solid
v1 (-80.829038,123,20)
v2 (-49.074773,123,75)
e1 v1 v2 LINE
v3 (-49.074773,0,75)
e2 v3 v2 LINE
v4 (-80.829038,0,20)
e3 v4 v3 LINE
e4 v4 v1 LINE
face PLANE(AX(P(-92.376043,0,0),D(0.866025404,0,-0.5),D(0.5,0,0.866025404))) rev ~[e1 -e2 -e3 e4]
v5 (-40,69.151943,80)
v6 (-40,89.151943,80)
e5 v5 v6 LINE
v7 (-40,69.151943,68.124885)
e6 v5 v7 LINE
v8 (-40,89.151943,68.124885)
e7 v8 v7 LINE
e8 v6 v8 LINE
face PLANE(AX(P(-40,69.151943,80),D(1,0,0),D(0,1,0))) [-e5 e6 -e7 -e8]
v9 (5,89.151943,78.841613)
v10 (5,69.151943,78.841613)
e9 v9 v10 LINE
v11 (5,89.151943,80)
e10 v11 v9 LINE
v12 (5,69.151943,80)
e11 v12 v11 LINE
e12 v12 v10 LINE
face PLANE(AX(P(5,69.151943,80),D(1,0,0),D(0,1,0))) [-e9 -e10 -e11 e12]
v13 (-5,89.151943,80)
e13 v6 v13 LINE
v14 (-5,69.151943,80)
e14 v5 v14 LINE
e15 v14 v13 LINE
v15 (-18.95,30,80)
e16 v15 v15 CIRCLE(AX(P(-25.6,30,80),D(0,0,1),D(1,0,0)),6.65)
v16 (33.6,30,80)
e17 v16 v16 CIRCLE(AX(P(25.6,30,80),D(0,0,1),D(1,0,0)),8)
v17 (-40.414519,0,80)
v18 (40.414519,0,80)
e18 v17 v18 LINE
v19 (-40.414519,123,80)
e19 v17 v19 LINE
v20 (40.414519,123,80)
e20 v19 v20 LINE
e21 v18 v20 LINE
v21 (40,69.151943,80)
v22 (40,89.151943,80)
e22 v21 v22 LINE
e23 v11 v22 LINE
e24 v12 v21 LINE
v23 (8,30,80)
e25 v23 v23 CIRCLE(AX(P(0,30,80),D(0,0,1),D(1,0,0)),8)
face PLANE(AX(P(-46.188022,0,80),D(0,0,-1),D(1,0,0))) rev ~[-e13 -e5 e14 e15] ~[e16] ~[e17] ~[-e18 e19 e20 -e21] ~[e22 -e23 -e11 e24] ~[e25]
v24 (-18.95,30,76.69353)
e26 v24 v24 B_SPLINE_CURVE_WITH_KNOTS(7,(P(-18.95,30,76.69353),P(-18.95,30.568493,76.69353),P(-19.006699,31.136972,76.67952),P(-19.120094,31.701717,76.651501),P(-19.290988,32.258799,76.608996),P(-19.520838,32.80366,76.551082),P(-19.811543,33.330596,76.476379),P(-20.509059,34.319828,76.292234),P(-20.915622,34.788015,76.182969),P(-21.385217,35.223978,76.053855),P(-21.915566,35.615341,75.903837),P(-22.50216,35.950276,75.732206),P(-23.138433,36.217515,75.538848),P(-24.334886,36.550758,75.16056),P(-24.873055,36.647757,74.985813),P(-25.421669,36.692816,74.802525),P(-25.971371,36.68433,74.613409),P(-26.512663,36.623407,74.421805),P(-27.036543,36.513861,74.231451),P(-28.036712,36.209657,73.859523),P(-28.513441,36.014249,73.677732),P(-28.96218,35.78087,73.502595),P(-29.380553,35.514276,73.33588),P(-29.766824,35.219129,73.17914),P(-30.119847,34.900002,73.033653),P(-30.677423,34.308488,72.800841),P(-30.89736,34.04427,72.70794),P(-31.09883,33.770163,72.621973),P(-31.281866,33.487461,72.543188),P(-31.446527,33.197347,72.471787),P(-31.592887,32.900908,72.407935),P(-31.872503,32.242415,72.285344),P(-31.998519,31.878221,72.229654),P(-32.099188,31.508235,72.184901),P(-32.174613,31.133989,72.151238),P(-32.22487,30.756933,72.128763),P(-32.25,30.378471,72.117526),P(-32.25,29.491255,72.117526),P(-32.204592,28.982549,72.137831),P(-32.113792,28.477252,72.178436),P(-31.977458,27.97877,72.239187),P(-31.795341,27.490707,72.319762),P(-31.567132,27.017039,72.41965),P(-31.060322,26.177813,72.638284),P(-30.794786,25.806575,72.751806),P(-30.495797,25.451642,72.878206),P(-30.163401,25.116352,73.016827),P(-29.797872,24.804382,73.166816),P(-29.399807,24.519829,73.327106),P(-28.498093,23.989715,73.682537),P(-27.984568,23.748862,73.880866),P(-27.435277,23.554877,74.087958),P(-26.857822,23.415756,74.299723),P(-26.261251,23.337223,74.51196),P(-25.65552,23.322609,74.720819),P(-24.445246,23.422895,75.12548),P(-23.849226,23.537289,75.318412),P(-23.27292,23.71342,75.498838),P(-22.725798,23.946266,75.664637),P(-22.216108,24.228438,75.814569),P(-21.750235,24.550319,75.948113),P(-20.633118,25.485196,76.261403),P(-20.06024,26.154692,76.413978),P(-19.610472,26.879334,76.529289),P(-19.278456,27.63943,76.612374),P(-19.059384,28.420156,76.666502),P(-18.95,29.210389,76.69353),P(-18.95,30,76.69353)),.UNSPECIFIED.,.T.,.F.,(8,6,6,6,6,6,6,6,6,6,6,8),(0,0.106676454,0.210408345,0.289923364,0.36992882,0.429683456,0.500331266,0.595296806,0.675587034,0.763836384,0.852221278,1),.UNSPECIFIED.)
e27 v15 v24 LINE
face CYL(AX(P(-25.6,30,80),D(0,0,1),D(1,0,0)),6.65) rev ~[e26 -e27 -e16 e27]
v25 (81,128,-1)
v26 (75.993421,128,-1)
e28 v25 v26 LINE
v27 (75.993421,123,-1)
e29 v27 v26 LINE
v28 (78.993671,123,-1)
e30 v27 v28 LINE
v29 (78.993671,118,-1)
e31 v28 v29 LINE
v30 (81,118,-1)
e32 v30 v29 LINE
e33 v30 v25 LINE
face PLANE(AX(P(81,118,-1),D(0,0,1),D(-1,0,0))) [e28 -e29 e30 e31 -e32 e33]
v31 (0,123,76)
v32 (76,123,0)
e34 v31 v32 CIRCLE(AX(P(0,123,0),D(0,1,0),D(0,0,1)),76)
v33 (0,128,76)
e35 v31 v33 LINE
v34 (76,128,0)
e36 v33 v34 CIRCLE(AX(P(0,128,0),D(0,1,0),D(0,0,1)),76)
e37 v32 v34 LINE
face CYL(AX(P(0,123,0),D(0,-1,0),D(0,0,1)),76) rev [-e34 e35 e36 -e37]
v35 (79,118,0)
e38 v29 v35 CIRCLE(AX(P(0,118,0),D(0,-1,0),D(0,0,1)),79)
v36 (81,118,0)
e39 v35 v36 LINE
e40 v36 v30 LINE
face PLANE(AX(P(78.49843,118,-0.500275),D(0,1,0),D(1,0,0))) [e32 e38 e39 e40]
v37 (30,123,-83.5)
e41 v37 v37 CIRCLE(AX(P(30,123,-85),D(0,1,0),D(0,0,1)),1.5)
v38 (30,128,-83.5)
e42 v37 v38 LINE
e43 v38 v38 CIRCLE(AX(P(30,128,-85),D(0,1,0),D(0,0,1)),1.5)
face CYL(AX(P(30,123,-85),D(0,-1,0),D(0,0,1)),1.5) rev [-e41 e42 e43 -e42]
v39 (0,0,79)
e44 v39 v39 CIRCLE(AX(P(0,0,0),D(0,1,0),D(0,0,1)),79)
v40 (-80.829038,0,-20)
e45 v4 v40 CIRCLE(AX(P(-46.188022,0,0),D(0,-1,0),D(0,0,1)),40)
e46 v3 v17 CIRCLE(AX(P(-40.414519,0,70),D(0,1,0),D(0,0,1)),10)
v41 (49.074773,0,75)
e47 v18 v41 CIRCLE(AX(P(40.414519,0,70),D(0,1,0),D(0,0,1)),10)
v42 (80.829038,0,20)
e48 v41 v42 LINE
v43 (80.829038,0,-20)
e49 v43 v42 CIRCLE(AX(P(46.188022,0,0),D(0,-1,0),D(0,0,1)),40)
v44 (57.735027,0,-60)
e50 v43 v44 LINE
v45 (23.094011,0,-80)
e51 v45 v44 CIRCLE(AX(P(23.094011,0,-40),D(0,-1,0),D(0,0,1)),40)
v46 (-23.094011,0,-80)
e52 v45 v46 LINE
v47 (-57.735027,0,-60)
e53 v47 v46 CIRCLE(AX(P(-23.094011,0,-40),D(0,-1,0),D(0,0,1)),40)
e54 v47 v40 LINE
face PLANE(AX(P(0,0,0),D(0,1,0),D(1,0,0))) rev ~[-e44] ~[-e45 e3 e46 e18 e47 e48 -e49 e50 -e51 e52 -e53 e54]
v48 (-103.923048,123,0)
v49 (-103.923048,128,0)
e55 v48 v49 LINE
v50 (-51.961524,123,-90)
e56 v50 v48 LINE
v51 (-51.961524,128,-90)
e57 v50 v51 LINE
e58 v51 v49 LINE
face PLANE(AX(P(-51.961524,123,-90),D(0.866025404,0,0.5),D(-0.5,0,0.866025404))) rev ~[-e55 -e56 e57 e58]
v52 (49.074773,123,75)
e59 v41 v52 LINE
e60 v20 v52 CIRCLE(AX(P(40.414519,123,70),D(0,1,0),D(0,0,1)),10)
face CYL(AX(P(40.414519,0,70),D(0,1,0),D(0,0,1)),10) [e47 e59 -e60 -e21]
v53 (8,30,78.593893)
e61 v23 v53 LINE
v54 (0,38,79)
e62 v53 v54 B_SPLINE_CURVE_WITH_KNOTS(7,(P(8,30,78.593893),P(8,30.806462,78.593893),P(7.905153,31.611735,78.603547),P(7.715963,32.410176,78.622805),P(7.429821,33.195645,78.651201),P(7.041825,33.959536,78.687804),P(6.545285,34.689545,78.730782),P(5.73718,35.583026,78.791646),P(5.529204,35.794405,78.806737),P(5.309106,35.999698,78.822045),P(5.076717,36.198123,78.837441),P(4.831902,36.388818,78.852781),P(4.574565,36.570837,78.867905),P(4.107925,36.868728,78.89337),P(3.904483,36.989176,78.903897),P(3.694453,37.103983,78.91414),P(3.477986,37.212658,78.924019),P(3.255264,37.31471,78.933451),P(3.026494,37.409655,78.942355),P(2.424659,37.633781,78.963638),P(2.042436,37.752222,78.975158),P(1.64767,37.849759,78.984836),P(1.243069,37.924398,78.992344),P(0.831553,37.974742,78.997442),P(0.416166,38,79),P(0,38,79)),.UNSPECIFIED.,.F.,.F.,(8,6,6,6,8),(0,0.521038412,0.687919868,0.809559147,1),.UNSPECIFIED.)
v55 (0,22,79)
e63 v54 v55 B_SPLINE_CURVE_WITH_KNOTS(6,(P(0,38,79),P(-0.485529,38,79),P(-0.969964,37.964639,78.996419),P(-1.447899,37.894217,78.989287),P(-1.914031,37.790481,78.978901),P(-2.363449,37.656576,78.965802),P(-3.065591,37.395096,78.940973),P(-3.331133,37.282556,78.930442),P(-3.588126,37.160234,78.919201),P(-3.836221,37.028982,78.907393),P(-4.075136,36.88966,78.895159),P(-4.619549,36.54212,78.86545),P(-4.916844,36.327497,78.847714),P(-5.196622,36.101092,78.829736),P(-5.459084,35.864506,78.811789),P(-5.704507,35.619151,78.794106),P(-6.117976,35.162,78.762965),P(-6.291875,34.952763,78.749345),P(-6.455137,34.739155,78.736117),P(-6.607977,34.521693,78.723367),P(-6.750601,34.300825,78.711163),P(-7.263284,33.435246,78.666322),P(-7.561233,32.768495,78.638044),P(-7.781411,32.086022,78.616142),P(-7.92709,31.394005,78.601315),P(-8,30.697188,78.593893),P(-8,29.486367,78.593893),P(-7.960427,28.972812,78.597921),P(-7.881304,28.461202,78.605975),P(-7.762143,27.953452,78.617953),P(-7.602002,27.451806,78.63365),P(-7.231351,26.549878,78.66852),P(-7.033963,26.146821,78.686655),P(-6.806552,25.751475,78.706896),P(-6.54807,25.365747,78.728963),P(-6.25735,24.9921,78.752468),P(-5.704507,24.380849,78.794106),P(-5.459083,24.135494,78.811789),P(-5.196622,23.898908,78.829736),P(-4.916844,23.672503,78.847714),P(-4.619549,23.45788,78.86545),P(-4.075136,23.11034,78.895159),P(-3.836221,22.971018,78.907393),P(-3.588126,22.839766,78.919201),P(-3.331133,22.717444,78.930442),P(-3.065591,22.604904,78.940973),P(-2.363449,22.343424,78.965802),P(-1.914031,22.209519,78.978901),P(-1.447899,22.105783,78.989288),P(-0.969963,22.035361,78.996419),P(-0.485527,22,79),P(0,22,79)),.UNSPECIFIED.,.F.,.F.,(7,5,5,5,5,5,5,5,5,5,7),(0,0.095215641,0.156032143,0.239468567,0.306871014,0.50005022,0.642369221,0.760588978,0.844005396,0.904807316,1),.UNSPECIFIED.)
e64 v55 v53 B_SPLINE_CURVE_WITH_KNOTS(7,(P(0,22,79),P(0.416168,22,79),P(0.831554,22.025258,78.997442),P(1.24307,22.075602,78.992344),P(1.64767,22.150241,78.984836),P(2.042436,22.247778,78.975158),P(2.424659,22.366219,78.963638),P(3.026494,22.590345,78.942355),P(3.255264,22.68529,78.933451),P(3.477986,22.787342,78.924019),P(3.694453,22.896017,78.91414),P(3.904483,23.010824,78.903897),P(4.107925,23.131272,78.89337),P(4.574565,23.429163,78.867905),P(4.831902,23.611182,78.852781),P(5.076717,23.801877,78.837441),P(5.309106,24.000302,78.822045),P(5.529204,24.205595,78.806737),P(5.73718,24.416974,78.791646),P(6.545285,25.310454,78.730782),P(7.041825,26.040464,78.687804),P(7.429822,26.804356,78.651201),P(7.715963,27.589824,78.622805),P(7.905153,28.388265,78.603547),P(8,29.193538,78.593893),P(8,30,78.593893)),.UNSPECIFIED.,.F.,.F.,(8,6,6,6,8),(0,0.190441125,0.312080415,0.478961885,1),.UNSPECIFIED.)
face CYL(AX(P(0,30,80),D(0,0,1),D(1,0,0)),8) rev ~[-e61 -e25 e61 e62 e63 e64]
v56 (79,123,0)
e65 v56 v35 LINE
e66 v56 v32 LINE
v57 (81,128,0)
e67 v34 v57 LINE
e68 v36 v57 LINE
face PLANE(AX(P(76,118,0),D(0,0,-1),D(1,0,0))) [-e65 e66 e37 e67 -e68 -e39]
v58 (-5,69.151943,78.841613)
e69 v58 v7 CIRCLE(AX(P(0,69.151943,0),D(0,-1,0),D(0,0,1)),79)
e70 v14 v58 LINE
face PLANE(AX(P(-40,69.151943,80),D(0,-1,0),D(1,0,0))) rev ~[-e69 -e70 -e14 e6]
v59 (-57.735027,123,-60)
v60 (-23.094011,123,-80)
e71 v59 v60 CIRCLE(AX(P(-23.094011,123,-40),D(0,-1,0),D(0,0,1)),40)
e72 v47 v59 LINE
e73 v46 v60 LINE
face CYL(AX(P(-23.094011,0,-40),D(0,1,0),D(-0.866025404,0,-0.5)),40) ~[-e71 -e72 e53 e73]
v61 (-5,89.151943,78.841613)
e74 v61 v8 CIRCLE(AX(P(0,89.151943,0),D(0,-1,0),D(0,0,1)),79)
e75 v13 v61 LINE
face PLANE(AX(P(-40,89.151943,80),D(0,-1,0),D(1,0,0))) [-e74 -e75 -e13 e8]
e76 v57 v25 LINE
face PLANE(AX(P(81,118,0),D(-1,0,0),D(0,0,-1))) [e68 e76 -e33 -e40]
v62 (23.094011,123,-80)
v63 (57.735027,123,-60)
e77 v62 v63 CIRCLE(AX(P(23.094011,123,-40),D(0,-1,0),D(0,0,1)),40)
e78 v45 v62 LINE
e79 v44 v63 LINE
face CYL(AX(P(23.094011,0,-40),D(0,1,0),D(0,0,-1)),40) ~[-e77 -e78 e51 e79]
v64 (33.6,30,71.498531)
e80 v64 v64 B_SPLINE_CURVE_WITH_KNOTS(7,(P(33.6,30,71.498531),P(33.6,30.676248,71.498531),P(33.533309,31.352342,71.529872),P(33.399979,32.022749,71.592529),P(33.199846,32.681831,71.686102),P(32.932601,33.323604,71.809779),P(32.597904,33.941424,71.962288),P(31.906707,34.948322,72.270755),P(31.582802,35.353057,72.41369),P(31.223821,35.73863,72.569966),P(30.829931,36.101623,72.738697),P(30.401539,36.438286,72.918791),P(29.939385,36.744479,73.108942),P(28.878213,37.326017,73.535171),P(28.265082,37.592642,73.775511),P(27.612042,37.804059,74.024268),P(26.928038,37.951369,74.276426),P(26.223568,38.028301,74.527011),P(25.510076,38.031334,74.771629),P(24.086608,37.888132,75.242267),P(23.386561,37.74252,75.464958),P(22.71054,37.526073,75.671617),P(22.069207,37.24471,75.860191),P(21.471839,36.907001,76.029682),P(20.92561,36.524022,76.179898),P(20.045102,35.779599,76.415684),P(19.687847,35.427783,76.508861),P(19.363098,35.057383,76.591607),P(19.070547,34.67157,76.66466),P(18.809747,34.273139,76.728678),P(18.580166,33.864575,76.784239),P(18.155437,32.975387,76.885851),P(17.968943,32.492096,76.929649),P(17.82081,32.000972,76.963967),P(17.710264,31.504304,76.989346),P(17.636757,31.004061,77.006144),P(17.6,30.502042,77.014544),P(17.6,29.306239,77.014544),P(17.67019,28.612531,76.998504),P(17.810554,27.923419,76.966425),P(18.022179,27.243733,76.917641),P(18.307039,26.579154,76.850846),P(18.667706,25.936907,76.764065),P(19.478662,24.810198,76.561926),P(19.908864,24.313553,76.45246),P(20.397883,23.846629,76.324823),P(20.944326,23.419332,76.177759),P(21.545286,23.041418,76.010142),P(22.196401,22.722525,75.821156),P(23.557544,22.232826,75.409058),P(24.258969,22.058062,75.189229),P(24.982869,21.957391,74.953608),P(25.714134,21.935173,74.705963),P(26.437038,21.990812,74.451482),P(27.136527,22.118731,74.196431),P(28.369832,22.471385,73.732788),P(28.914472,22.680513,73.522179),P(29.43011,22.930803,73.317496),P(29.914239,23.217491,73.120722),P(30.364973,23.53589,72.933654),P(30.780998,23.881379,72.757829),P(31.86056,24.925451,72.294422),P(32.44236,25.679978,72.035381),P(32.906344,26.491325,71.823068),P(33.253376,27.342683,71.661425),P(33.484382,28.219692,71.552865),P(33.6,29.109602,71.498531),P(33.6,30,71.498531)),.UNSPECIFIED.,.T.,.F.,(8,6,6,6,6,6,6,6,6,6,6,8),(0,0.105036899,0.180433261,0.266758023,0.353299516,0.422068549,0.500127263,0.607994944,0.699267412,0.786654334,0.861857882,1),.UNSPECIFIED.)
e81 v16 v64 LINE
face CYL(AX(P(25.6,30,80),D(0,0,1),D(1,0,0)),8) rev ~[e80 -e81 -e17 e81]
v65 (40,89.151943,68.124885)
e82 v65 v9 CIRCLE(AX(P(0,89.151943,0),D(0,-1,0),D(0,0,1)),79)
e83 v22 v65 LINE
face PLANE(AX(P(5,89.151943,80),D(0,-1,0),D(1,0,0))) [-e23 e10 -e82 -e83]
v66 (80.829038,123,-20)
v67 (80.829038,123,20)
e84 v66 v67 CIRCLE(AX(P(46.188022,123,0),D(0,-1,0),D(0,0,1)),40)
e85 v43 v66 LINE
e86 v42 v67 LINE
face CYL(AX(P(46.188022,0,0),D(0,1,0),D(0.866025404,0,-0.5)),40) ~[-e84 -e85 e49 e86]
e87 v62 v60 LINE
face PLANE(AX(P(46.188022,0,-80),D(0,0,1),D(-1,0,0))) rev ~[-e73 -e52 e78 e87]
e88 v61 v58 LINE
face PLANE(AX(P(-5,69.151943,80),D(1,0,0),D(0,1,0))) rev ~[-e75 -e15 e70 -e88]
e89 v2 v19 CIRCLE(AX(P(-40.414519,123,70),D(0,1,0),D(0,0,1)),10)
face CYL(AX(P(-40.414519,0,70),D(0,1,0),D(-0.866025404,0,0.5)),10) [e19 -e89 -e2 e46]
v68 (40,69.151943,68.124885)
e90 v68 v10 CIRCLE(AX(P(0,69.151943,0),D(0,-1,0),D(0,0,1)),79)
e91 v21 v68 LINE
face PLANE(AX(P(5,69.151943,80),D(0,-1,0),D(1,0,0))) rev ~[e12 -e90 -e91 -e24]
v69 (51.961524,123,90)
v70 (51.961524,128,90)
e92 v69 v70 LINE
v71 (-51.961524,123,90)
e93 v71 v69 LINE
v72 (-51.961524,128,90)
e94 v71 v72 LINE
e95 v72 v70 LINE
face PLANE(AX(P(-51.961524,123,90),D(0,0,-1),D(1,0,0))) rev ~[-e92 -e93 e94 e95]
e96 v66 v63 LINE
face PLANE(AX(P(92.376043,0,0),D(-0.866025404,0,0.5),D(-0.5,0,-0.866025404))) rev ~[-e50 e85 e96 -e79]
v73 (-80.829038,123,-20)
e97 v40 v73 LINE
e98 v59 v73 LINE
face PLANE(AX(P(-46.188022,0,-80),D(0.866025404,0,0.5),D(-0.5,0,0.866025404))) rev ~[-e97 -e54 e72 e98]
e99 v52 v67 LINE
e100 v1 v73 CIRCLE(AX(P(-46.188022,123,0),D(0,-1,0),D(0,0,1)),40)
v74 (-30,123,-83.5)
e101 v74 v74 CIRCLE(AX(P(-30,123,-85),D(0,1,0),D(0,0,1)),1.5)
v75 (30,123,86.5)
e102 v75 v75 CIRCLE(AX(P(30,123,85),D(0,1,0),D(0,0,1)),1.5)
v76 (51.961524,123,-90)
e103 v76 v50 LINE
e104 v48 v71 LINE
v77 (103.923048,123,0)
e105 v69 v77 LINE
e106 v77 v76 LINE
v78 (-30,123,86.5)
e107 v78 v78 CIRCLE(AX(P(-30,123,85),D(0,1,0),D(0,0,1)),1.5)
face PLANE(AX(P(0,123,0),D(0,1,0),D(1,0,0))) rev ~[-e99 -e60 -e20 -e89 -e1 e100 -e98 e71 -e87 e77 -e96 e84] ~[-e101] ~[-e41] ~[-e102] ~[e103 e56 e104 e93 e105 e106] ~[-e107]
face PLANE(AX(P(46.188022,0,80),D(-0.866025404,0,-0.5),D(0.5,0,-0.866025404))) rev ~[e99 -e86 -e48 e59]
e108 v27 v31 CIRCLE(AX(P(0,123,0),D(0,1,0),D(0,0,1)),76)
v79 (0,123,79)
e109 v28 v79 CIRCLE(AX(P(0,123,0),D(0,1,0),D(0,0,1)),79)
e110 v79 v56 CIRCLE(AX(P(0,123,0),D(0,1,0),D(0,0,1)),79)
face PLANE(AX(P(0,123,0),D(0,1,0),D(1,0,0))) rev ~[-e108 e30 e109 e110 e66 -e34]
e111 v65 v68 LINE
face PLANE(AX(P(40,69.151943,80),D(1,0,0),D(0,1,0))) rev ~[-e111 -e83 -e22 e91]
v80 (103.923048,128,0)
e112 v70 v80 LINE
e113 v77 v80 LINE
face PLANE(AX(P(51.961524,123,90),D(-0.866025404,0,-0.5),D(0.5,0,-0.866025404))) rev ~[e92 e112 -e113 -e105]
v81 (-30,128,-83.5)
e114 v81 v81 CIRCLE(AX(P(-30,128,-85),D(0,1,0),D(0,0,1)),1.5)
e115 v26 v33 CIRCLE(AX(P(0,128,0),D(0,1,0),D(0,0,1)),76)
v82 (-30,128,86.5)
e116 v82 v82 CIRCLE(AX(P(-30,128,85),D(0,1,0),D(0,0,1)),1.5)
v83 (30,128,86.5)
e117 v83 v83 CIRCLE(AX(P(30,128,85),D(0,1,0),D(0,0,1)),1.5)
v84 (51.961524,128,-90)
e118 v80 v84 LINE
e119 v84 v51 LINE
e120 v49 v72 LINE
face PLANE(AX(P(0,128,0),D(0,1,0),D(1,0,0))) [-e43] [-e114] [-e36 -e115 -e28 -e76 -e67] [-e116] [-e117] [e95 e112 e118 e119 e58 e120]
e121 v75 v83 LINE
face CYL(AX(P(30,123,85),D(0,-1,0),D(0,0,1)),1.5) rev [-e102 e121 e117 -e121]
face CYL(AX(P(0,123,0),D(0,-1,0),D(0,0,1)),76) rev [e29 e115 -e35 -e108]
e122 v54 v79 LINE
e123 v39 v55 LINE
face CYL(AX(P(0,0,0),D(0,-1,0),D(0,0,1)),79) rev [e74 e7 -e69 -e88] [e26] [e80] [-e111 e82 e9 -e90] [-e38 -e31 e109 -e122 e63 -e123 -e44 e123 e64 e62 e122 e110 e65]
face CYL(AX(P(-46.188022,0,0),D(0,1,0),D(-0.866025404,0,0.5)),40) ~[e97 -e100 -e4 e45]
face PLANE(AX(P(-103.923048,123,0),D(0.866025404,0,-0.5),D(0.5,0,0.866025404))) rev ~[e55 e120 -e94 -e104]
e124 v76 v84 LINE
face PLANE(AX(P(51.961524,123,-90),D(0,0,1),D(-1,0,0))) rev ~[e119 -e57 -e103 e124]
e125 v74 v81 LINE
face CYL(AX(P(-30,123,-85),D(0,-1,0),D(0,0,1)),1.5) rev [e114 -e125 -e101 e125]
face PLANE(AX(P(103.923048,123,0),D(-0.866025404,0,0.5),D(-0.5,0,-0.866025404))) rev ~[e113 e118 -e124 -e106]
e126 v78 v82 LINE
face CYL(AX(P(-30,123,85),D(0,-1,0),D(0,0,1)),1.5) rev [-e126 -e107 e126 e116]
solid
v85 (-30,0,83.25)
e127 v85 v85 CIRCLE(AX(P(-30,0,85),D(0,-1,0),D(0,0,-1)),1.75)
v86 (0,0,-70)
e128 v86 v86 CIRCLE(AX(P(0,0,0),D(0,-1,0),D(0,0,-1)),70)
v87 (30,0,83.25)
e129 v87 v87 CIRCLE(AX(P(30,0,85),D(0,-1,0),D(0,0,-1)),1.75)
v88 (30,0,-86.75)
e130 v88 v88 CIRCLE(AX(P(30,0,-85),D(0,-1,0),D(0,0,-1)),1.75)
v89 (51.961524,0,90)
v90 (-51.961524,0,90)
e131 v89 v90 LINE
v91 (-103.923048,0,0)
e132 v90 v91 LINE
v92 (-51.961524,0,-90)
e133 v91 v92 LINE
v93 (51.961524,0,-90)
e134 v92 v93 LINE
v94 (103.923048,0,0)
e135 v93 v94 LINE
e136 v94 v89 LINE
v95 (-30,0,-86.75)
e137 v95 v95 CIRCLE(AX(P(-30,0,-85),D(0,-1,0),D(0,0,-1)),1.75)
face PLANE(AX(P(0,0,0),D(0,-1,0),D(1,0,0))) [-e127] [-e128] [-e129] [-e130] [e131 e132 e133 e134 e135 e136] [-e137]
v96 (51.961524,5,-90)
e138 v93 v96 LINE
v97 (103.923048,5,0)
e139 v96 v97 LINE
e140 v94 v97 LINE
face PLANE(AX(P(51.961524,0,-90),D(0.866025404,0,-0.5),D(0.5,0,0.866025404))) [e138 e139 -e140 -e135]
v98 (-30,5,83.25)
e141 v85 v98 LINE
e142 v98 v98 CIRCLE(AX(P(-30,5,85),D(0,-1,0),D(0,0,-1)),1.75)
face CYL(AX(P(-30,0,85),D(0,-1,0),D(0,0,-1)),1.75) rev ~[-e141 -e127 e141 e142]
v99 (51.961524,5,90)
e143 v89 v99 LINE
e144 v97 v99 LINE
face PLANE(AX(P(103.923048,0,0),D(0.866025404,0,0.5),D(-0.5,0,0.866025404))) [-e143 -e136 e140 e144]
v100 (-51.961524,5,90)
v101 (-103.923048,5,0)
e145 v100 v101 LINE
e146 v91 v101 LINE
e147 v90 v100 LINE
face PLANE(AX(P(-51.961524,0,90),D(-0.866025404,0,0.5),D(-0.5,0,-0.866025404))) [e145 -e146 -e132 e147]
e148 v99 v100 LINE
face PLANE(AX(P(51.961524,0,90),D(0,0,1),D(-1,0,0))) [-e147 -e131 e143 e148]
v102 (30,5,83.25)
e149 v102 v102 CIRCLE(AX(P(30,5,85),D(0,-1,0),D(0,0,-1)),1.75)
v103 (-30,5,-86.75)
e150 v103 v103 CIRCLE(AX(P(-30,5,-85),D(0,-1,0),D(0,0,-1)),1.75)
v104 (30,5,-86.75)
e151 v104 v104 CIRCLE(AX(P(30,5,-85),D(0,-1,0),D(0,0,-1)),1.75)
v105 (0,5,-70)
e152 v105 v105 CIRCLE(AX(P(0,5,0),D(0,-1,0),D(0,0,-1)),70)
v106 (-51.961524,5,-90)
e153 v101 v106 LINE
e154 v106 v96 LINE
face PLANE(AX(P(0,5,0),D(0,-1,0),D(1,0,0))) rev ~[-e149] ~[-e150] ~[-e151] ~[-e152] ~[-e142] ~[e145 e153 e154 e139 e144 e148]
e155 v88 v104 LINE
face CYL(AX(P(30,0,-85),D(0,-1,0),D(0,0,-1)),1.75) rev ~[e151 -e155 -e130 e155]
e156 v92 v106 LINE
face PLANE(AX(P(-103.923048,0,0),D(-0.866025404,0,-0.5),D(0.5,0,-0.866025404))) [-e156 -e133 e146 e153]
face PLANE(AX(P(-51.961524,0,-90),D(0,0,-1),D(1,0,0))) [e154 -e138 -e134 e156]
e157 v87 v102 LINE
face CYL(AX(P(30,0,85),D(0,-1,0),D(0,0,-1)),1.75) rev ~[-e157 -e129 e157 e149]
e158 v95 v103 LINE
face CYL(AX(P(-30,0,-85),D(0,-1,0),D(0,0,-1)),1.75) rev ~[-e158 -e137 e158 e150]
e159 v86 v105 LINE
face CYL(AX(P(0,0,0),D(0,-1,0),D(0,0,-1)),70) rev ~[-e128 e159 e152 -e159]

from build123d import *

# Parameters (mm, degrees)
SKETCH1_R           = 79
BOSS_EXTRUDE1_DEPTH = 123
SKETCH2_R           = 70
BOSS_EXTRUDE2_DEPTH = 5
SKETCH3_R           = 76
SKETCH3_R_2         = 1.5
BOSS_EXTRUDE3_DEPTH = 5
SKETCH8_W           = 35
SKETCH8_H           = 20
CUT_EXTRUDE1_DEPTH  = 20
FILLET3_R           = 10
FILLET4_R           = 40
SKETCH12_R          = 1.75
CUT_EXTRUDE3_DEPTH  = 10
CUT_EXTRUDE4_START  = -10
CUT_EXTRUDE4_DEPTH  = 10
SKETCH20_R          = 6.65
SKETCH20_R_2        = 8
CUT_EXTRUDE7_DEPTH  = 22


with BuildPart() as part:
    # Sketch1 → Boss-Extrude1 (new body)
    with BuildSketch(Plane(origin=(0, 0, 0), x_dir=(1, 0, 0), z_dir=(0, 1, 0))):
        Polygon((92.37604307, 0), (46.188021535, 80), (-46.188021535, 80), (-92.37604307, 0), (-46.188021535, -80), (46.188021535, -80), align=None)
        with Locations(Location((0, 0, 0), (0, 0, 270))):
            Circle(SKETCH1_R, mode=Mode.SUBTRACT)
    extrude(amount=BOSS_EXTRUDE1_DEPTH)

    # Sketch3 → Boss-Extrude3 (add)
    with BuildSketch(Plane(origin=(0, 123, 0), x_dir=(1, 0, 0), z_dir=(0, 1, 0))):
        Polygon((103.923048454, 0), (51.961524227, 90), (-51.961524227, 90), (-103.923048454, 0), (-51.961524227, -90), (51.961524227, -90), align=None)
        with Locations(Location((0, 0, 0), (0, 0, 270))):
            Circle(SKETCH3_R, mode=Mode.SUBTRACT)
        with Locations(Location((30, 85, 0), (0, 0, 270))):
            Circle(SKETCH3_R_2, mode=Mode.SUBTRACT)
        with Locations(Location((-30, 85, 0), (0, 0, 270))):
            Circle(SKETCH3_R_2, mode=Mode.SUBTRACT)
        with Locations(Location((30, -85, 0), (0, 0, 270))):
            Circle(SKETCH3_R_2, mode=Mode.SUBTRACT)
        with Locations(Location((-30, -85, 0), (0, 0, 270))):
            Circle(SKETCH3_R_2, mode=Mode.SUBTRACT)
    extrude(amount=BOSS_EXTRUDE3_DEPTH)

    # Sketch8 → Cut-Extrude1 (cut)
    with BuildSketch(Plane.XY.offset(80)):
        with Locations((22.5, 79.151942843)):
            Rectangle(SKETCH8_W, SKETCH8_H)
        with Locations((-22.5, 79.151942843)):
            Rectangle(SKETCH8_W, SKETCH8_H)
    extrude(amount=-CUT_EXTRUDE1_DEPTH, mode=Mode.SUBTRACT)

    # Fillet3
    fillet3_edges = [part.edges().sort_by_distance(p)[0] for p in [
        (46.188021535, 61.5, 80),
        (-46.188021535, 61.5, 80),
    ]]
    fillet(fillet3_edges, radius=FILLET3_R)

    # Fillet4
    fillet4_edges = [part.edges().sort_by_distance(p)[0] for p in [
        (-92.37604307, 61.5, 0),
        (-46.188021535, 61.5, -80),
        (46.188021535, 61.5, -80),
        (92.37604307, 61.5, 0),
    ]]
    fillet(fillet4_edges, radius=FILLET4_R)

    # Sketch16 → Cut-Extrude4 (cut)
    with BuildSketch(Plane(origin=(0, 128, 0), x_dir=(1, 0, 0), z_dir=(0, 1, 0)).offset(CUT_EXTRUDE4_START)):
        with BuildLine():
            ThreePointArc((75.993420768, 1), (75.998355174, 0.500010821), (76, 0))
            Line((76, 0), (81, 0))
            Line((81, 0), (81, 1))
            Line((81, 1), (75.993420768, 1))
        make_face()
    extrude(amount=CUT_EXTRUDE4_DEPTH, mode=Mode.SUBTRACT)

    # Sketch20 → Cut-Extrude7 (cut)
    with BuildSketch(Plane.XY.offset(80)):
        with Locations((-25.6, 30)):
            Circle(SKETCH20_R)
        with Locations((0, 30)):
            Circle(SKETCH20_R_2)
        with Locations((25.6, 30)):
            Circle(SKETCH20_R_2)
    extrude(amount=-CUT_EXTRUDE7_DEPTH, mode=Mode.SUBTRACT)


with BuildPart() as body_2:
    # Sketch2 → Boss-Extrude2 (new body)
    with BuildSketch(Plane.XZ):
        Polygon((103.923048454, 0), (51.961524227, 90), (-51.961524227, 90), (-103.923048454, 0), (-51.961524227, -90), (51.961524227, -90), align=None)
        with Locations(Location((0, 0, 0), (0, 0, 270))):
            Circle(SKETCH2_R, mode=Mode.SUBTRACT)
    extrude(amount=-BOSS_EXTRUDE2_DEPTH)

    # Sketch12 → Cut-Extrude3 (cut)
    with BuildSketch(Plane.XZ):
        with Locations(Location((-30, 85, 0), (0, 0, 270))):
            Circle(SKETCH12_R)
        with Locations(Location((30, 85, 0), (0, 0, 270))):
            Circle(SKETCH12_R)
        with Locations(Location((30, -85, 0), (0, 0, 270))):
            Circle(SKETCH12_R)
        with Locations(Location((-30, -85, 0), (0, 0, 270))):
            Circle(SKETCH12_R)
    extrude(amount=-CUT_EXTRUDE3_DEPTH, mode=Mode.SUBTRACT)


solid = Compound([part.part, body_2.part])
